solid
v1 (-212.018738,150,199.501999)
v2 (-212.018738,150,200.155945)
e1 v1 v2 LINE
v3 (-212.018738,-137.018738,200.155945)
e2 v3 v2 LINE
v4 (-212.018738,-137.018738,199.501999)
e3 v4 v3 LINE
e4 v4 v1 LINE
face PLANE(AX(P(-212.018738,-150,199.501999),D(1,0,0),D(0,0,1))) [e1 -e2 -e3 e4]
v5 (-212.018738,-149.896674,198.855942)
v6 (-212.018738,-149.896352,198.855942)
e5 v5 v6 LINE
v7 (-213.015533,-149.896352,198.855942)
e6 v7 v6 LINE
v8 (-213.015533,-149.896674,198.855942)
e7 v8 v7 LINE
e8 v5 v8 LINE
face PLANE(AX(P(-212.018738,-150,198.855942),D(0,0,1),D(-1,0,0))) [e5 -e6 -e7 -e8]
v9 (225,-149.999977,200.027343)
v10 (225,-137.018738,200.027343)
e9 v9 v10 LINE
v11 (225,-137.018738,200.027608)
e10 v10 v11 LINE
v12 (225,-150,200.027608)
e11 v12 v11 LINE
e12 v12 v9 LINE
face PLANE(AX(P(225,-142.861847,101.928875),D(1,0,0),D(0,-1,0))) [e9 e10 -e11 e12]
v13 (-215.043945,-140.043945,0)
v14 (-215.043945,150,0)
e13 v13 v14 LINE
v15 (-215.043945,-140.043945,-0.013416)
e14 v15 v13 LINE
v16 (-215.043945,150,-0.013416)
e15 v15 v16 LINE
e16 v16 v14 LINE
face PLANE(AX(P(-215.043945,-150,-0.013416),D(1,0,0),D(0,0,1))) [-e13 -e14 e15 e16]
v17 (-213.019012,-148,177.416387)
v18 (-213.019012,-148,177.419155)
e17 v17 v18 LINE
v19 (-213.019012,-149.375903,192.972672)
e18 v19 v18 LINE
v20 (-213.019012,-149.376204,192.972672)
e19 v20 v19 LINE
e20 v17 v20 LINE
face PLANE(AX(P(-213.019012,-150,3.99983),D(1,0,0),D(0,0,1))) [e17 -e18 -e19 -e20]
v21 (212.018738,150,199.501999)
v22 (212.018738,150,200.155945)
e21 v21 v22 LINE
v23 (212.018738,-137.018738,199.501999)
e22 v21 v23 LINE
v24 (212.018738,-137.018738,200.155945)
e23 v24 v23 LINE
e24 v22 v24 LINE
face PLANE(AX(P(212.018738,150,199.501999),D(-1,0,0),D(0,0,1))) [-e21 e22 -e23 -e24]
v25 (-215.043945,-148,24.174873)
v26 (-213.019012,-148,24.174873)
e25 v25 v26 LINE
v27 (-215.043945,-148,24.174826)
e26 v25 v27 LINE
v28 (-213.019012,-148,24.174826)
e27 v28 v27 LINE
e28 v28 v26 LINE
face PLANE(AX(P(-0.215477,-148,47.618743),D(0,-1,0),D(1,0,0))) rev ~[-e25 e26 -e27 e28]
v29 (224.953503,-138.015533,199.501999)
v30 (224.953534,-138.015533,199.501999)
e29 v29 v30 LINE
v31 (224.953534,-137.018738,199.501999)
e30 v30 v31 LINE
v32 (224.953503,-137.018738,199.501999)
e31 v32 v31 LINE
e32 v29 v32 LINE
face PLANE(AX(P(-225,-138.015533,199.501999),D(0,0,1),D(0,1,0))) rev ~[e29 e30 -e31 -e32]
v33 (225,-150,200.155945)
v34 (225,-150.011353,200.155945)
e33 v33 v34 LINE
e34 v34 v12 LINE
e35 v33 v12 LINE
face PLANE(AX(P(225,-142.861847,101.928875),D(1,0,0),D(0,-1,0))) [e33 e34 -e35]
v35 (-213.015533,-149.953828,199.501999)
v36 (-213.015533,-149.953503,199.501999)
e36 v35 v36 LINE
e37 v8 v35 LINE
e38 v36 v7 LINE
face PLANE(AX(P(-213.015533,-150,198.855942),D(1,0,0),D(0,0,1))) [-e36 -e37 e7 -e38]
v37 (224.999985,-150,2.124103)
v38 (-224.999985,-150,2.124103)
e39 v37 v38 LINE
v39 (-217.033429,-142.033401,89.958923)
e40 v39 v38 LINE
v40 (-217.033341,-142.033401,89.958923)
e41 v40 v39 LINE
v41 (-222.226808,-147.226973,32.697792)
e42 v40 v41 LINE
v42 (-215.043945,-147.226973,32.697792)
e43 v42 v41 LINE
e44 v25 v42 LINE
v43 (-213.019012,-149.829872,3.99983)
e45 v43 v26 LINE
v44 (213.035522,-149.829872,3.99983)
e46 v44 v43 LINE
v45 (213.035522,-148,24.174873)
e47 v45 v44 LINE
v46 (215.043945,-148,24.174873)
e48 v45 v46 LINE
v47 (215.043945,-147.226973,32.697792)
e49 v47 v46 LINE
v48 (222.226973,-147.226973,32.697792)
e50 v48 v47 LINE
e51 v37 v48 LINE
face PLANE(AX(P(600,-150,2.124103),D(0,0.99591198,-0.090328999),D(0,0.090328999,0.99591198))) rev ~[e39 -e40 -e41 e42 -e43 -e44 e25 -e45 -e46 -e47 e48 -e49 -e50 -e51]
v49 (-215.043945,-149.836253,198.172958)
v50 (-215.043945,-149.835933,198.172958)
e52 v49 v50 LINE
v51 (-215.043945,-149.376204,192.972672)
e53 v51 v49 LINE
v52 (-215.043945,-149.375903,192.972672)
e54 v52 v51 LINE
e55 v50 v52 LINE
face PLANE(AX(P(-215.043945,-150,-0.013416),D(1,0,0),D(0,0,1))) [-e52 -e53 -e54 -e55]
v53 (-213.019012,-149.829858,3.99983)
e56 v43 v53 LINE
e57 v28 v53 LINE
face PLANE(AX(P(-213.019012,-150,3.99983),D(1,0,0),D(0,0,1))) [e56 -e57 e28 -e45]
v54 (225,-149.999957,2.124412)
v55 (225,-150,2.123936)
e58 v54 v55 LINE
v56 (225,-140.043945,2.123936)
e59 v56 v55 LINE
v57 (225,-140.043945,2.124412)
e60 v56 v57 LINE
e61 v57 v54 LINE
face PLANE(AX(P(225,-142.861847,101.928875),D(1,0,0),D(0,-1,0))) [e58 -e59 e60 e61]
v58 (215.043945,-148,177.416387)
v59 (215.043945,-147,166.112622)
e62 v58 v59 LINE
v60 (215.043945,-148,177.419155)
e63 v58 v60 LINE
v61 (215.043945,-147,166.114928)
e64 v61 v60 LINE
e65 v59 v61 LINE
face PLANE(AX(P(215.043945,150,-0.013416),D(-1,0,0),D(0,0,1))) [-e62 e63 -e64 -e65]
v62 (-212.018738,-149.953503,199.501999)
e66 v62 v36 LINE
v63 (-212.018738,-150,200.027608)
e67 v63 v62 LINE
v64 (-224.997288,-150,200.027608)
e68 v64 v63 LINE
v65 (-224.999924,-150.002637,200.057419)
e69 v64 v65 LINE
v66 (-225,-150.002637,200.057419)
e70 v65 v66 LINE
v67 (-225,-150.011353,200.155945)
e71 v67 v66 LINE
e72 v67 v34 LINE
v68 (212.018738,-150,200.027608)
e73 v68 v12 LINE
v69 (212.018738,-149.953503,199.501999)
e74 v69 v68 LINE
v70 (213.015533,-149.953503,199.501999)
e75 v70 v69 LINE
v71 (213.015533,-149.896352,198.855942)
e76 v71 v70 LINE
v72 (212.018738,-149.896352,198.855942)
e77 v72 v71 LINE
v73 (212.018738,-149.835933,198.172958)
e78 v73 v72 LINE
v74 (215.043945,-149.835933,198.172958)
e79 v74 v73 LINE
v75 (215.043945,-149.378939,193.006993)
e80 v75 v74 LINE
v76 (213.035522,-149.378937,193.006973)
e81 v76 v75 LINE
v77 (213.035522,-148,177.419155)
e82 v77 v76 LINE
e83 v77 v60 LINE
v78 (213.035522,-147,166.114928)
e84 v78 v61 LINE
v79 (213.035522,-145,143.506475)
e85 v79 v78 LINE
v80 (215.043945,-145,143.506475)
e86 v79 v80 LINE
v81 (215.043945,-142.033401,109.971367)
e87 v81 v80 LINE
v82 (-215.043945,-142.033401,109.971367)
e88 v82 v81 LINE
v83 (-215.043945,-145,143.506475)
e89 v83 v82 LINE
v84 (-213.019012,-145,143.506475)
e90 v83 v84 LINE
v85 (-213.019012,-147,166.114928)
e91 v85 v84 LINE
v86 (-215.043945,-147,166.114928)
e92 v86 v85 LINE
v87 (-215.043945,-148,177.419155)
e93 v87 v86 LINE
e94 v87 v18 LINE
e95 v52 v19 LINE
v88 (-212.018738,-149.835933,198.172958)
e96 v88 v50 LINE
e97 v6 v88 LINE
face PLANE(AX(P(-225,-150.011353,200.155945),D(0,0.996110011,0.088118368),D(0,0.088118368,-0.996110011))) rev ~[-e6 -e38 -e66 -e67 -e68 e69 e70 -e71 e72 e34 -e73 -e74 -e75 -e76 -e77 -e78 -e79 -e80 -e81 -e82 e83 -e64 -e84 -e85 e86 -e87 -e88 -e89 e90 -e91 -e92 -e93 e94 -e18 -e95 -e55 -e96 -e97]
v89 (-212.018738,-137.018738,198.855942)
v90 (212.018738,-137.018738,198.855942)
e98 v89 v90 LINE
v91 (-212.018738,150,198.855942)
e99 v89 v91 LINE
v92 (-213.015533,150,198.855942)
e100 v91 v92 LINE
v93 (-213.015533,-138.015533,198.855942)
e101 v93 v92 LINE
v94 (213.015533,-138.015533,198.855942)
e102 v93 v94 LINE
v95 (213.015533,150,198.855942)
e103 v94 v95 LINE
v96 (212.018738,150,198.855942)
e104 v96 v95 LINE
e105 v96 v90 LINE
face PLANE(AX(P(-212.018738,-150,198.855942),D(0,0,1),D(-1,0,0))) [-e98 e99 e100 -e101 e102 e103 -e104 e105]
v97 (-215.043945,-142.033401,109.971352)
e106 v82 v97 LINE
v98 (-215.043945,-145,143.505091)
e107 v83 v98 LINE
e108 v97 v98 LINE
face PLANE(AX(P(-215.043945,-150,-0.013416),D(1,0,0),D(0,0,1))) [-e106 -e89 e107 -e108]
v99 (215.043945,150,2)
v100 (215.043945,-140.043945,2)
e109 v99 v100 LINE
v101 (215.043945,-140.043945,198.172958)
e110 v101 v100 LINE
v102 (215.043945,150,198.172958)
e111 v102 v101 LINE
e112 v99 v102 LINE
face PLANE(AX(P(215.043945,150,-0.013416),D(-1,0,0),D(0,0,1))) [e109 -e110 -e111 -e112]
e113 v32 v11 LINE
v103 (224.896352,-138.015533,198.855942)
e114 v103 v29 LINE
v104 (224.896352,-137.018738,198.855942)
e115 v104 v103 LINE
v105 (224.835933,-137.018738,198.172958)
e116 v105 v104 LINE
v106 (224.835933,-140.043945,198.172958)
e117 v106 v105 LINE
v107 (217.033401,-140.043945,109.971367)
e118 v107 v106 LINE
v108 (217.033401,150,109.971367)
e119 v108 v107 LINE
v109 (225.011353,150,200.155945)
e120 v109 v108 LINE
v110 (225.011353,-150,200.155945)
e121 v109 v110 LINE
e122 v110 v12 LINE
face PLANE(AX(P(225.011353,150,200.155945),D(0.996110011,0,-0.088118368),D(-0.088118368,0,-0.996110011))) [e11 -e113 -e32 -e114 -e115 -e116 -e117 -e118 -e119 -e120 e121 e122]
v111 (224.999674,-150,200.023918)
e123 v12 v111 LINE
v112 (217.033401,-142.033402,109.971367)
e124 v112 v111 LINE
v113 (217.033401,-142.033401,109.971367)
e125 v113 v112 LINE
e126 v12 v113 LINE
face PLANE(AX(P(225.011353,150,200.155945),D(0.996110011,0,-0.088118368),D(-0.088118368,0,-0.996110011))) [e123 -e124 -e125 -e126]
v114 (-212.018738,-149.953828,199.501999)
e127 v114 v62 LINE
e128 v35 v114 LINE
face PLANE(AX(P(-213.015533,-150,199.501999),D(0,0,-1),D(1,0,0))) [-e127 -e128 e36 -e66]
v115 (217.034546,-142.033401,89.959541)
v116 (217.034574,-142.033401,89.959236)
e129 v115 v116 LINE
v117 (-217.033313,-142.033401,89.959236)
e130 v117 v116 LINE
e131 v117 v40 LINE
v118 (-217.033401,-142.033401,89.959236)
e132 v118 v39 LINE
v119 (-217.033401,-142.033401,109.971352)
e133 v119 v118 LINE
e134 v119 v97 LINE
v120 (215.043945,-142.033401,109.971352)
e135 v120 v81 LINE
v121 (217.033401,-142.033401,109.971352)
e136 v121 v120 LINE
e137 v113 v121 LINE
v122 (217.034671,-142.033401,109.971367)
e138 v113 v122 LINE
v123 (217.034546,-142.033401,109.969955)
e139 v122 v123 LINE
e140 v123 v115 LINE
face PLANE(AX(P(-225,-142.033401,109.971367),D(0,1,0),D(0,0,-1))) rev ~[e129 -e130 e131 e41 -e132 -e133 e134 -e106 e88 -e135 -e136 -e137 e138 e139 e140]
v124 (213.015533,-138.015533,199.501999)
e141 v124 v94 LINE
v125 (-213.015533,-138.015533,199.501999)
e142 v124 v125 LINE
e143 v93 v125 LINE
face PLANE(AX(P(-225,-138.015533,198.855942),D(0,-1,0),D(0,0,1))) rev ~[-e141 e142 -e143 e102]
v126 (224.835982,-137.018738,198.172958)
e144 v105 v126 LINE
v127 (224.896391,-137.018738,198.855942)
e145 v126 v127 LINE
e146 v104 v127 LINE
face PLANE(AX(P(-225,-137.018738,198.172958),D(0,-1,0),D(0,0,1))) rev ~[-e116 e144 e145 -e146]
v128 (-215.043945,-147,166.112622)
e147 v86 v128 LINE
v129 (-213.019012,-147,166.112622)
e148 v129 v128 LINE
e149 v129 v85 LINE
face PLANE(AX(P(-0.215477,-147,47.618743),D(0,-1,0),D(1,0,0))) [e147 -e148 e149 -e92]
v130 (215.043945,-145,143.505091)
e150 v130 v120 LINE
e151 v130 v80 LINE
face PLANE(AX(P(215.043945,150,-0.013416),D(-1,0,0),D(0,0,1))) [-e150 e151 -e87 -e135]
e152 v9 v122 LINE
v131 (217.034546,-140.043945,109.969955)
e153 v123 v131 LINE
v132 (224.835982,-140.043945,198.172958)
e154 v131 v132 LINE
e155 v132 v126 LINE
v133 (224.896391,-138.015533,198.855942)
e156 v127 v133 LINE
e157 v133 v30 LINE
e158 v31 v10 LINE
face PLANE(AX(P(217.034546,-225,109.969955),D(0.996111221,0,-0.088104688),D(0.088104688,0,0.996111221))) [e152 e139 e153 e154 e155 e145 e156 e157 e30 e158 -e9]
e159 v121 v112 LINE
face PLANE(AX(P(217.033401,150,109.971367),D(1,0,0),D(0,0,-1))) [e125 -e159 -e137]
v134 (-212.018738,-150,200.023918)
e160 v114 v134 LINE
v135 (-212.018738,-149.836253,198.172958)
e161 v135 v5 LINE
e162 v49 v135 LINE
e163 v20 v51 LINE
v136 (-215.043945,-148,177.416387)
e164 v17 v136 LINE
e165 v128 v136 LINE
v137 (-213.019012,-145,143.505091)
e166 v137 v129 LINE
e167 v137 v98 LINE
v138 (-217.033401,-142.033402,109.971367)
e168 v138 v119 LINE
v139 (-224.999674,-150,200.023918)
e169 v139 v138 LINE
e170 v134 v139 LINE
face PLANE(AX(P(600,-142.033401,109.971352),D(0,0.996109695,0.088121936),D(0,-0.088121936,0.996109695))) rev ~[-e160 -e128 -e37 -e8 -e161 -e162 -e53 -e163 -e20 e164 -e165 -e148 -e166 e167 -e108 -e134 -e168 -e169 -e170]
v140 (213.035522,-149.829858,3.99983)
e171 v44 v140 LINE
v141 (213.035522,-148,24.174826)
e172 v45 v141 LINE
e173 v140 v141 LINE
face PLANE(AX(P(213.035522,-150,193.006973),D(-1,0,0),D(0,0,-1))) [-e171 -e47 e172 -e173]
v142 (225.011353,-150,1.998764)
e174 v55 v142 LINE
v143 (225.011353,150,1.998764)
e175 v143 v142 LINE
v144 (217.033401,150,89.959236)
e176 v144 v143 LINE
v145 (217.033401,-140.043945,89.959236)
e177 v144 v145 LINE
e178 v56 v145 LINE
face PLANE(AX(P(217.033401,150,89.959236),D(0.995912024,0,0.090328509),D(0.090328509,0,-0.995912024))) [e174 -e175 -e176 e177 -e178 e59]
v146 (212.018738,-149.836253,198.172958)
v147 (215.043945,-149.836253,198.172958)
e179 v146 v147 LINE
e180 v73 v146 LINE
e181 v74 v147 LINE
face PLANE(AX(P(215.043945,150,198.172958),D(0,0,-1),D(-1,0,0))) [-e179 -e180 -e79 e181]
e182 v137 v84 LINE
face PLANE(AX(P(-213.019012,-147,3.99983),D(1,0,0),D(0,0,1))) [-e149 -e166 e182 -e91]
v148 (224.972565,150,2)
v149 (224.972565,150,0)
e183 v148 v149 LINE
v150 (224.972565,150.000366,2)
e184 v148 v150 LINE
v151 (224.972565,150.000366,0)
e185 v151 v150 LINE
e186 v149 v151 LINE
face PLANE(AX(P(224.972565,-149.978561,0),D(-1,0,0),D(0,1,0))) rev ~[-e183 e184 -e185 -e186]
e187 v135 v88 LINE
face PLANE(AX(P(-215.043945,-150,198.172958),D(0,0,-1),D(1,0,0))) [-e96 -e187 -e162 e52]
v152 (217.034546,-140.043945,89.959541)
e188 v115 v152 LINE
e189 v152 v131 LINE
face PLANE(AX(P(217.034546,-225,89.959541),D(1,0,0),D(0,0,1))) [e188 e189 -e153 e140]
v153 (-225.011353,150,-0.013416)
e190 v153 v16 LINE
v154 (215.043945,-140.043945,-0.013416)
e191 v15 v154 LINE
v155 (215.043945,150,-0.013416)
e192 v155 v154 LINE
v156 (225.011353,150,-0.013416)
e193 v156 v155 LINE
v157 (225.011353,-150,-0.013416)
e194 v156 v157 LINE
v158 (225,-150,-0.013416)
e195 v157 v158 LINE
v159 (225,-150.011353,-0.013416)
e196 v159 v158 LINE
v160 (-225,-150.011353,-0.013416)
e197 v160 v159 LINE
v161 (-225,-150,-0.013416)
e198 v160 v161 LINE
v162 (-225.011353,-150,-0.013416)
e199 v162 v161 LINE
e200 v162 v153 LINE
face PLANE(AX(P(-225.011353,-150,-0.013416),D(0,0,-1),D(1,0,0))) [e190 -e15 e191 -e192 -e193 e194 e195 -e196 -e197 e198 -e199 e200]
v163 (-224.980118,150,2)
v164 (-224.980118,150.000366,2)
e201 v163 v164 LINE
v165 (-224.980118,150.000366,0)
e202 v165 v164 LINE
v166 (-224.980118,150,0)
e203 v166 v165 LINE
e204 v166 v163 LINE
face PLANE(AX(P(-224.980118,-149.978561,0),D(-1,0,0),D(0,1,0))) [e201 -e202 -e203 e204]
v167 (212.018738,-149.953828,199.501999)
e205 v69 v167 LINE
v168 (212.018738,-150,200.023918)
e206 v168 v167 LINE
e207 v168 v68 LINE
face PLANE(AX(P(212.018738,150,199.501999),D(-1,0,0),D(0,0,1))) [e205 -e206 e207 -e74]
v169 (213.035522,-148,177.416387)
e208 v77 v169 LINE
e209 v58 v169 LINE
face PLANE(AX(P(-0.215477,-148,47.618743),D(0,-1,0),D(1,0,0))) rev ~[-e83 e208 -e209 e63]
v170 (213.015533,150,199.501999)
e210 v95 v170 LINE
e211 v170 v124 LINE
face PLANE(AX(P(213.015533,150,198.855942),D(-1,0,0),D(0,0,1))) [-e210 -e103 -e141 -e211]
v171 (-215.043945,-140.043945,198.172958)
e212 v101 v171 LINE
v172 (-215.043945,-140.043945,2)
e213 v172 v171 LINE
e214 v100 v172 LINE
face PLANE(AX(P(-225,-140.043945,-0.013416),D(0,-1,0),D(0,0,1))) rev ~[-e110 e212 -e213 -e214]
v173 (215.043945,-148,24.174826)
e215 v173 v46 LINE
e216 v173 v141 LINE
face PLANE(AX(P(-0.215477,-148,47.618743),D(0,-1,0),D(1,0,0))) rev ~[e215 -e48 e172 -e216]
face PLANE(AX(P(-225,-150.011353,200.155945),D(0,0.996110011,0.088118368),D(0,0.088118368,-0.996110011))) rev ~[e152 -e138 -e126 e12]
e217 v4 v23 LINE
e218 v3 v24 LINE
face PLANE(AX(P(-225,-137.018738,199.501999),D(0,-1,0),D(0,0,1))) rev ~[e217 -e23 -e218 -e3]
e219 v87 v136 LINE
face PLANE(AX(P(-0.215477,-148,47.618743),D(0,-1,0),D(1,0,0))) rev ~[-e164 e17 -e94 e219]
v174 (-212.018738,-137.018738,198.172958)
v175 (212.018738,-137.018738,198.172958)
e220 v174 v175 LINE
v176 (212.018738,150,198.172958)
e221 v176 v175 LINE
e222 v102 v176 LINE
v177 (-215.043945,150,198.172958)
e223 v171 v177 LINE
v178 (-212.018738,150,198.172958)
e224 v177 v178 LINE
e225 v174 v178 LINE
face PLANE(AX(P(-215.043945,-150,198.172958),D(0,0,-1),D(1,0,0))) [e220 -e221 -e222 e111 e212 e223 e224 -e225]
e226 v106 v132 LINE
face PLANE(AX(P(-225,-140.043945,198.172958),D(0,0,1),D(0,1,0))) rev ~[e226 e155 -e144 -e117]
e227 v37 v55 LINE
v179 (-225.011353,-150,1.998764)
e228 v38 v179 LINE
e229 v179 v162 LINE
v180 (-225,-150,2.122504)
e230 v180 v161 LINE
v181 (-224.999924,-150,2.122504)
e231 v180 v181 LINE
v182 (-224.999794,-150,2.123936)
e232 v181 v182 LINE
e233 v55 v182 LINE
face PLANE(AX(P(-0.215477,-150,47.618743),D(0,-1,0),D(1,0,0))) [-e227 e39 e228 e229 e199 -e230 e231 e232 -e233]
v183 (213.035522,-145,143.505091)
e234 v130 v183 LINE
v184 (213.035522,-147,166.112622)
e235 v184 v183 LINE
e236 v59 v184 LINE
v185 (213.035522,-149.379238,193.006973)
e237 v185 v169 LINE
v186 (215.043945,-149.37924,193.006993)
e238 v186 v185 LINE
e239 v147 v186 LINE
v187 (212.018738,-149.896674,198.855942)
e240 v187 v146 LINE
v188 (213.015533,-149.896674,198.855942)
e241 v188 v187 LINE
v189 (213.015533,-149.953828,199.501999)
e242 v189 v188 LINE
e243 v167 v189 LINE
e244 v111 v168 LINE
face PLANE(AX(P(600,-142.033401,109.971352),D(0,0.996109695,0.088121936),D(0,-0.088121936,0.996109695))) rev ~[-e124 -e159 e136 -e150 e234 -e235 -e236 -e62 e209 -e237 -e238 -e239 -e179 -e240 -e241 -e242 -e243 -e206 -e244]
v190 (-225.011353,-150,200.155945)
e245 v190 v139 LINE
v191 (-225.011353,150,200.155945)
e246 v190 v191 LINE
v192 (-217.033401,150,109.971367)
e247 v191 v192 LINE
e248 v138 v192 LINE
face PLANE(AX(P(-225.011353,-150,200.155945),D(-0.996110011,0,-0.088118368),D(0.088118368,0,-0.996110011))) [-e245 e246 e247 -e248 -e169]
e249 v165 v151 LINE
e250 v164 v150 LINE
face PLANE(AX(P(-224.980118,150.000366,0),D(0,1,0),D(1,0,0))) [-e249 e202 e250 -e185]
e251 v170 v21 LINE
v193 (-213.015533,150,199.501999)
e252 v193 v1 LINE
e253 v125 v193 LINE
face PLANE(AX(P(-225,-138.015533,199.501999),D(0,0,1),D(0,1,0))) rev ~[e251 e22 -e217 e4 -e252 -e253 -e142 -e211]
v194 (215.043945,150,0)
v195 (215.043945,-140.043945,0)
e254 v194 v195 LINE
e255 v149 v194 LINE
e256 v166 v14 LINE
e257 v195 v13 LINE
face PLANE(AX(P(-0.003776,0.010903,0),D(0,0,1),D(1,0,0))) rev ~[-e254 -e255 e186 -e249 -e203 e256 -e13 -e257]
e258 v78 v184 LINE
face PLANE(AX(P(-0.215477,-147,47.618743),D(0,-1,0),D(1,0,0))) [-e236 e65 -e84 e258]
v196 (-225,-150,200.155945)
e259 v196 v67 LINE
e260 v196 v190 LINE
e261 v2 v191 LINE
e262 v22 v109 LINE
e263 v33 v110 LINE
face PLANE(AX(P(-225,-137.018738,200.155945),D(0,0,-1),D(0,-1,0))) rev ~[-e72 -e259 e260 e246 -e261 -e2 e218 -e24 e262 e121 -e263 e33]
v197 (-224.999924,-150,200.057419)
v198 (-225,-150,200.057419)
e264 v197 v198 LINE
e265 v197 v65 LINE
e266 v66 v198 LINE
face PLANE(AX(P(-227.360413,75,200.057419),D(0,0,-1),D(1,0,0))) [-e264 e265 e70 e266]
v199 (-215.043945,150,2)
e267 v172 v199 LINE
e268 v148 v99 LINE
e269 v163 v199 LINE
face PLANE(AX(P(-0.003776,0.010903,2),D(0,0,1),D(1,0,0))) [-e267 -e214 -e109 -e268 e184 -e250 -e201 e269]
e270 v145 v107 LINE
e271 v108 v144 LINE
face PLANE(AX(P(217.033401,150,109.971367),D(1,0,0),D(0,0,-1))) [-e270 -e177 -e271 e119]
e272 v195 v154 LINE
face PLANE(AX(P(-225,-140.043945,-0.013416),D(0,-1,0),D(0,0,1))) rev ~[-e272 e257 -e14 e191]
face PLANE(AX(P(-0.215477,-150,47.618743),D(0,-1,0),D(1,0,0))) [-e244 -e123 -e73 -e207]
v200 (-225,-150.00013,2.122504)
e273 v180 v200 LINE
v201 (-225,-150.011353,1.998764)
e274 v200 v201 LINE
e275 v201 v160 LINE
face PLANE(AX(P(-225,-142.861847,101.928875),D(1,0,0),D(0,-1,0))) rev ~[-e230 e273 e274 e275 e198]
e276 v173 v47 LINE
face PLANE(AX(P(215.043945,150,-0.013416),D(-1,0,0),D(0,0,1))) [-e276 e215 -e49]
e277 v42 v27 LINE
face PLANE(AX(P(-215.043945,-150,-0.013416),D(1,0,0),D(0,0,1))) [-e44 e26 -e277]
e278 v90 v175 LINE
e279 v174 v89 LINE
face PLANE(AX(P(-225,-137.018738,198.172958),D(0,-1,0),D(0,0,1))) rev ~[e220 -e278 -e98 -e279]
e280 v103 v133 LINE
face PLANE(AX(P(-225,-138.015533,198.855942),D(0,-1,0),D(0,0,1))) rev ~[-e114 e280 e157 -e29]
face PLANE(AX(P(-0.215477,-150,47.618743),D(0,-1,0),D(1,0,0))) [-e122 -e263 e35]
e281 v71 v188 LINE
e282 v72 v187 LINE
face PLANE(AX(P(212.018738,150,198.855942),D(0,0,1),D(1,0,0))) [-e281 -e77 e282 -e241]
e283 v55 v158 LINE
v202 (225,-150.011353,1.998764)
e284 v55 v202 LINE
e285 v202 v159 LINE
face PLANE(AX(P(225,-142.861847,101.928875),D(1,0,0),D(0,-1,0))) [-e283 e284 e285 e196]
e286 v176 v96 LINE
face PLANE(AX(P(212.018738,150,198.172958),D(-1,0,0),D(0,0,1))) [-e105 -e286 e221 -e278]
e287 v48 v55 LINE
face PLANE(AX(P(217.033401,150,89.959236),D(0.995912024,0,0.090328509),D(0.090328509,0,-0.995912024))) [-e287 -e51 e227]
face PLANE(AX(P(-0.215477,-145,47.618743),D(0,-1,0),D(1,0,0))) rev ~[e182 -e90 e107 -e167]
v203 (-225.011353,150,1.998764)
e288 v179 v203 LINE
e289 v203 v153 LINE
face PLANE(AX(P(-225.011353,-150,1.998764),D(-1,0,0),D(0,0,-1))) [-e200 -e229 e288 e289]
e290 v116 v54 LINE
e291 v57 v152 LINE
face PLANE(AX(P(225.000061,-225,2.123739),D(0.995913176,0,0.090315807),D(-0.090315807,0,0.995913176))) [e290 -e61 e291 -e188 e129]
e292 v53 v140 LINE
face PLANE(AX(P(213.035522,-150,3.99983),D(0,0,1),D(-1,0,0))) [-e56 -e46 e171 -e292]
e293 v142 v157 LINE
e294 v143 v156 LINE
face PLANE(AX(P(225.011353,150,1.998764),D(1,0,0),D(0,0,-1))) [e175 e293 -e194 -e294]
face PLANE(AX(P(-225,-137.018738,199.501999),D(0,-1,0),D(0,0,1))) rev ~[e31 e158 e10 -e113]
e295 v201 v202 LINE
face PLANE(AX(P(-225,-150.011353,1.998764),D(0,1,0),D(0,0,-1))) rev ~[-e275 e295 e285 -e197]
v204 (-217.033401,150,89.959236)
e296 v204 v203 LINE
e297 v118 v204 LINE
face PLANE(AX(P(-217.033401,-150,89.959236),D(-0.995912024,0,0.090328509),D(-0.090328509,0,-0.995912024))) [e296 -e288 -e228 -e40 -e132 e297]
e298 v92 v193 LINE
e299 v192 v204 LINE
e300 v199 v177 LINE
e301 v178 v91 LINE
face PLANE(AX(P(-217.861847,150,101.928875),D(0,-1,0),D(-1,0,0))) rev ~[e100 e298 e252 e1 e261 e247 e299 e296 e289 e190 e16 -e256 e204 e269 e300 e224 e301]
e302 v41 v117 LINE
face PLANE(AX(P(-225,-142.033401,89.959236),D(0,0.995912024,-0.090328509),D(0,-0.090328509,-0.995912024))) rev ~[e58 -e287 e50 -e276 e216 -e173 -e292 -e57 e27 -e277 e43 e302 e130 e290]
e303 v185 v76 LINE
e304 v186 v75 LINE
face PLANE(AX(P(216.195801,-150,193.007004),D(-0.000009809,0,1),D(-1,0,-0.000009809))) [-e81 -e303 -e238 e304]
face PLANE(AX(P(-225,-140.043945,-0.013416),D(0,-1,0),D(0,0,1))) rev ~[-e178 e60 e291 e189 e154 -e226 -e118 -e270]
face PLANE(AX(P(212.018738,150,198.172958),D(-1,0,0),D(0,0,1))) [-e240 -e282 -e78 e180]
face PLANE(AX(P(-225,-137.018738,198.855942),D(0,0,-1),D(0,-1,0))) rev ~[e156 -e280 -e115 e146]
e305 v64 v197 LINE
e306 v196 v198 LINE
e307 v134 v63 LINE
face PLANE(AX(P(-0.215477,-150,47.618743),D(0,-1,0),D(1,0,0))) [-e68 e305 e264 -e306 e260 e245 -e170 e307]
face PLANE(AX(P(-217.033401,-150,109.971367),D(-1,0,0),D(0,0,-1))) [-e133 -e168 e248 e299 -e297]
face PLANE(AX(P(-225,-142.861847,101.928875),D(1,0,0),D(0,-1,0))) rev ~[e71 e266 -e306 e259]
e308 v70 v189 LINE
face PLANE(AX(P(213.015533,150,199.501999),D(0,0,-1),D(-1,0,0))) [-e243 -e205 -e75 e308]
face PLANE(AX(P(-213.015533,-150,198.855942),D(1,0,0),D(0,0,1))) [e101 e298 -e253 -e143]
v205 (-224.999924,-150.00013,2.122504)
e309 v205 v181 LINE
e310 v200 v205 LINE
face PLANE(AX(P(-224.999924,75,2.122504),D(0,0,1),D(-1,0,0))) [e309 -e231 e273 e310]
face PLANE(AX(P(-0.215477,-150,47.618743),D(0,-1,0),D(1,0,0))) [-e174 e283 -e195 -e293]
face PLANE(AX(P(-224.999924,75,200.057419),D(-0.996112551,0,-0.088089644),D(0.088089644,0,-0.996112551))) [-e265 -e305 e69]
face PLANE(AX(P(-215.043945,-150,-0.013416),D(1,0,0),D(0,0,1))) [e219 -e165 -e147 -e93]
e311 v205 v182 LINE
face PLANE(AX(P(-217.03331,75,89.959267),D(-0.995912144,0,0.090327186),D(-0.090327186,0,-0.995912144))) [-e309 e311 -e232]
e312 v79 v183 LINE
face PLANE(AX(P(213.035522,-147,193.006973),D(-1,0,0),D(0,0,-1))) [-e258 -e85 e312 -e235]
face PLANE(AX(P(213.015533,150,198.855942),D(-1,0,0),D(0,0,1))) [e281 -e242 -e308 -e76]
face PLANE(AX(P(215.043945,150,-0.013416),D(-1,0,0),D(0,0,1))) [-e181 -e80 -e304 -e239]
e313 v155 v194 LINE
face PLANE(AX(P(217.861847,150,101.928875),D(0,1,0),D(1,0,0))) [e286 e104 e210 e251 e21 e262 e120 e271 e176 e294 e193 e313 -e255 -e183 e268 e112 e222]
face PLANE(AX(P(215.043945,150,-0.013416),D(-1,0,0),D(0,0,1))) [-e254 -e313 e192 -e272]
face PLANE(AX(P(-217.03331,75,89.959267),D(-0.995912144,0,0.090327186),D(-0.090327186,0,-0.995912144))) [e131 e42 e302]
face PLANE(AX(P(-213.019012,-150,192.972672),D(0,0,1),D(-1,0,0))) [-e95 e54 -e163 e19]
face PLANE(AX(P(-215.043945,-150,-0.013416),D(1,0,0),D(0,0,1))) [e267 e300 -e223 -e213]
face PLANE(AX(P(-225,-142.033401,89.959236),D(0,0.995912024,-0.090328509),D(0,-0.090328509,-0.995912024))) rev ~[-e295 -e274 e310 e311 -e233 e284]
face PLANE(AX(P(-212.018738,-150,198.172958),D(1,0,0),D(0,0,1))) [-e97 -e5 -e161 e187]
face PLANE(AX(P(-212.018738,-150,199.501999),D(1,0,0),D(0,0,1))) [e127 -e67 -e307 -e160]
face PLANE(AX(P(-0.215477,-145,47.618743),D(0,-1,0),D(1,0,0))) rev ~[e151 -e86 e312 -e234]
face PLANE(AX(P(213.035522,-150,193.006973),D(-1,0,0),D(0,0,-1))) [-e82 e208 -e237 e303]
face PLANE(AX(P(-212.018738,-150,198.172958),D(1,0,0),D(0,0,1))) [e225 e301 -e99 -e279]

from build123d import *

# Parameters (mm, degrees)
EXTRUDE001_DEPTH               = 300
EXTRUDE002_DEPTH               = 300
EXTRUDE002_PLACEMENT_ANGLE     = 180
EXTRUDE004_DEPTH               = 2
EXTRUDE003_DEPTH               = 2
SKETCH_W                       = 449.952683
SKETCH_H                       = 299.978927
EXTRUDE_DEPTH                  = 2
FUSION_PLACEMENT_ANGLE         = 180
BASEFEATURE001_PLACEMENT_ANGLE = 180
POCKET001_DEPTH                = 825.012353
EXTRUDE005_DEPTH               = 450
POCKET_DEPTH                   = 250
POCKET002_DEPTH                = 500


with BuildPart() as right:
    # Wire → Extrude001 (new body)
    with BuildSketch(Plane(origin=(218.5150455, 150, 100.0712645), x_dir=(1, 0, 0), z_dir=(0, 1, 0))):
        Polygon((6.4963075, 100.0846805), (-3.4711005, 100.0846805), (-3.4711005, -98.1016935), (-6.4963075, -98.1016935), (-6.4963075, -98.7846775), (-5.4995125, -98.7846775), (-5.4995125, -99.4307345), (-6.4963075, -99.4307345), (-6.4963075, -100.0846805), (6.4963075, -100.0846805), (-1.4816445, -9.9001025), (-1.4816445, 10.1120285), (6.4963075, 98.0725005), align=None)
    extrude(amount=-EXTRUDE001_DEPTH)


with BuildPart() as left:
    # Wire001 → Extrude002 (new body)
    with BuildSketch(Plane(origin=(218.5150455, 150, 100.0712645), x_dir=(1, 0, 0), z_dir=(0, 1, 0))):
        Polygon((6.4963075, 100.0846805), (-3.4711005, 100.0846805), (-3.4711005, -98.1016935), (-6.4963075, -98.1016935), (-6.4963075, -98.7846775), (-5.4995125, -98.7846775), (-5.4995125, -99.4307345), (-6.4963075, -99.4307345), (-6.4963075, -100.0846805), (6.4963075, -100.0846805), (-1.4816445, -9.9001025), (-1.4816445, 10.1120285), (6.4963075, 98.0725005), align=None)
    extrude(amount=-EXTRUDE002_DEPTH)


with BuildPart() as left_1:
    # Extrude002 placement: moved
    add(left.part.rotate(Axis((0, 0, 0), (0, 0, 1)), EXTRUDE002_PLACEMENT_ANGLE))


with BuildPart() as inner_back_holder:
    # Sketch002 → Extrude004 (new body)
    with BuildSketch(Plane.XZ.offset(150)):
        Polygon((-213.019012, 3.99983), (-213.019012, 192.972672), (-216.785446, 192.972672), (-216.785446, 0.188954), (216.195801, 0.188954), (216.195801, 193.007004), (213.035522, 193.006973), (213.035522, 3.99983), align=None)
    extrude(amount=-EXTRUDE004_DEPTH)


with BuildPart() as inner_back_holder_1:
    # Extrude004 placement: moved
    add(inner_back_holder.part.moved(Location((0, 3, 0))))


with BuildPart() as outer_back_holder:
    # Sketch001 → Extrude003 (new body)
    with BuildSketch(Plane.XZ.offset(150)):
        Polygon((-213.019012, 3.99983), (-213.019012, 192.972672), (-216.785446, 192.972672), (-216.785446, 0.188954), (216.195801, 0.188954), (216.195801, 193.007004), (213.035522, 193.006973), (213.035522, 3.99983), align=None)
    extrude(amount=-EXTRUDE003_DEPTH)


with BuildPart() as main_body:
    # Sketch → Extrude (new body)
    with BuildSketch(Plane.XY):
        with Locations((-0.0037765, 0.0109025)):
            Rectangle(SKETCH_W, SKETCH_H)
    extrude(amount=EXTRUDE_DEPTH)

    # Fusion: union Right, Left, Inner-Back-Holder, Outer-Back-Holder
    add(right.part)
    add(left_1.part)
    add(inner_back_holder_1.part)
    add(outer_back_holder.part)


with BuildPart() as main_body_1:
    # Fusion placement: moved
    add(main_body.part.rotate(Axis((0, 0, 0), (0, 0, 1)), FUSION_PLACEMENT_ANGLE))


with BuildPart() as main_body_2:
    # BaseFeature001 placement: moved
    add(main_body_1.part.rotate(Axis((0, 0, 0), (0, 0, -1)), BASEFEATURE001_PLACEMENT_ANGLE))

    # Sketch004 → Pocket001 (cut, through all)
    with BuildSketch(Plane.YZ.offset(600)):
        Polygon((-150.000214, 200.026337), (-150.207199, 200.026337), (-150.207199, 2.124103), (-150, 2.124103), (-142.033401, 89.958923), (-142.033401, 109.971352), align=None)
    extrude(amount=-POCKET001_DEPTH, mode=Mode.SUBTRACT)


with BuildPart() as main_body001:
    # Wire002 → Extrude005 (new body)
    with BuildSketch(Plane(origin=(150, -218.5150455, 100.0712645), x_dir=(0, -1, 0), z_dir=(1, 0, 0))):
        Polygon((6.4963075, 100.0846805), (-3.4711005, 100.0846805), (-3.4711005, -98.1016935), (-6.4963075, -98.1016935), (-6.4963075, -98.7846775), (-5.4995125, -98.7846775), (-5.4995125, -99.4307345), (-6.4963075, -99.4307345), (-6.4963075, -100.0846805), (6.4963075, -100.0846805), (-1.4816445, -9.9001025), (-1.4816445, 10.1120285), (6.4963075, 98.0725005), align=None)
    extrude(amount=EXTRUDE005_DEPTH)


with BuildPart() as main_body001_1:
    # Extrude005 placement: moved
    add(main_body001.part.moved(Location((-375, 75, 0))))


with BuildPart() as main_body001_2:
    # BaseFeature placement: moved
    add(main_body001_1.part.moved(Location((375, -75, 0))))

    # Sketch003 → Pocket (cut, symmetric)
    with BuildSketch(Plane(origin=(375, 0, 0), x_dir=(1, 0, 0), z_dir=(0, -1, 0))):
        Polygon((-224.999924, 200.057419), (-217.03331, 109.971413), (-217.03331, 89.959267), (-224.999924, 2.122504), (-227.360413, 2.122504), (-227.360413, 200.057419), align=None)
    extrude(amount=POCKET_DEPTH, both=True, mode=Mode.SUBTRACT)

    # Sketch005 → Pocket002 (cut)
    with BuildSketch(Plane(origin=(375, -300, 0), x_dir=(1, 0, 0), z_dir=(0, -1, 0))):
        Polygon((225.000046, 200.027863), (225.188705, 200.027863), (225.188705, 2.123739), (225.000061, 2.123739), (217.034546, 89.959541), (217.034546, 109.969955), align=None)
    extrude(amount=-POCKET002_DEPTH, mode=Mode.SUBTRACT)


with BuildPart() as main_body001_3:
    # Body placement: moved
    add(main_body001_2.part.moved(Location((-375, 75, 0))))

    # Fusion001: union  Main Body
    add(main_body_2.part)


solid = main_body001_3.part
